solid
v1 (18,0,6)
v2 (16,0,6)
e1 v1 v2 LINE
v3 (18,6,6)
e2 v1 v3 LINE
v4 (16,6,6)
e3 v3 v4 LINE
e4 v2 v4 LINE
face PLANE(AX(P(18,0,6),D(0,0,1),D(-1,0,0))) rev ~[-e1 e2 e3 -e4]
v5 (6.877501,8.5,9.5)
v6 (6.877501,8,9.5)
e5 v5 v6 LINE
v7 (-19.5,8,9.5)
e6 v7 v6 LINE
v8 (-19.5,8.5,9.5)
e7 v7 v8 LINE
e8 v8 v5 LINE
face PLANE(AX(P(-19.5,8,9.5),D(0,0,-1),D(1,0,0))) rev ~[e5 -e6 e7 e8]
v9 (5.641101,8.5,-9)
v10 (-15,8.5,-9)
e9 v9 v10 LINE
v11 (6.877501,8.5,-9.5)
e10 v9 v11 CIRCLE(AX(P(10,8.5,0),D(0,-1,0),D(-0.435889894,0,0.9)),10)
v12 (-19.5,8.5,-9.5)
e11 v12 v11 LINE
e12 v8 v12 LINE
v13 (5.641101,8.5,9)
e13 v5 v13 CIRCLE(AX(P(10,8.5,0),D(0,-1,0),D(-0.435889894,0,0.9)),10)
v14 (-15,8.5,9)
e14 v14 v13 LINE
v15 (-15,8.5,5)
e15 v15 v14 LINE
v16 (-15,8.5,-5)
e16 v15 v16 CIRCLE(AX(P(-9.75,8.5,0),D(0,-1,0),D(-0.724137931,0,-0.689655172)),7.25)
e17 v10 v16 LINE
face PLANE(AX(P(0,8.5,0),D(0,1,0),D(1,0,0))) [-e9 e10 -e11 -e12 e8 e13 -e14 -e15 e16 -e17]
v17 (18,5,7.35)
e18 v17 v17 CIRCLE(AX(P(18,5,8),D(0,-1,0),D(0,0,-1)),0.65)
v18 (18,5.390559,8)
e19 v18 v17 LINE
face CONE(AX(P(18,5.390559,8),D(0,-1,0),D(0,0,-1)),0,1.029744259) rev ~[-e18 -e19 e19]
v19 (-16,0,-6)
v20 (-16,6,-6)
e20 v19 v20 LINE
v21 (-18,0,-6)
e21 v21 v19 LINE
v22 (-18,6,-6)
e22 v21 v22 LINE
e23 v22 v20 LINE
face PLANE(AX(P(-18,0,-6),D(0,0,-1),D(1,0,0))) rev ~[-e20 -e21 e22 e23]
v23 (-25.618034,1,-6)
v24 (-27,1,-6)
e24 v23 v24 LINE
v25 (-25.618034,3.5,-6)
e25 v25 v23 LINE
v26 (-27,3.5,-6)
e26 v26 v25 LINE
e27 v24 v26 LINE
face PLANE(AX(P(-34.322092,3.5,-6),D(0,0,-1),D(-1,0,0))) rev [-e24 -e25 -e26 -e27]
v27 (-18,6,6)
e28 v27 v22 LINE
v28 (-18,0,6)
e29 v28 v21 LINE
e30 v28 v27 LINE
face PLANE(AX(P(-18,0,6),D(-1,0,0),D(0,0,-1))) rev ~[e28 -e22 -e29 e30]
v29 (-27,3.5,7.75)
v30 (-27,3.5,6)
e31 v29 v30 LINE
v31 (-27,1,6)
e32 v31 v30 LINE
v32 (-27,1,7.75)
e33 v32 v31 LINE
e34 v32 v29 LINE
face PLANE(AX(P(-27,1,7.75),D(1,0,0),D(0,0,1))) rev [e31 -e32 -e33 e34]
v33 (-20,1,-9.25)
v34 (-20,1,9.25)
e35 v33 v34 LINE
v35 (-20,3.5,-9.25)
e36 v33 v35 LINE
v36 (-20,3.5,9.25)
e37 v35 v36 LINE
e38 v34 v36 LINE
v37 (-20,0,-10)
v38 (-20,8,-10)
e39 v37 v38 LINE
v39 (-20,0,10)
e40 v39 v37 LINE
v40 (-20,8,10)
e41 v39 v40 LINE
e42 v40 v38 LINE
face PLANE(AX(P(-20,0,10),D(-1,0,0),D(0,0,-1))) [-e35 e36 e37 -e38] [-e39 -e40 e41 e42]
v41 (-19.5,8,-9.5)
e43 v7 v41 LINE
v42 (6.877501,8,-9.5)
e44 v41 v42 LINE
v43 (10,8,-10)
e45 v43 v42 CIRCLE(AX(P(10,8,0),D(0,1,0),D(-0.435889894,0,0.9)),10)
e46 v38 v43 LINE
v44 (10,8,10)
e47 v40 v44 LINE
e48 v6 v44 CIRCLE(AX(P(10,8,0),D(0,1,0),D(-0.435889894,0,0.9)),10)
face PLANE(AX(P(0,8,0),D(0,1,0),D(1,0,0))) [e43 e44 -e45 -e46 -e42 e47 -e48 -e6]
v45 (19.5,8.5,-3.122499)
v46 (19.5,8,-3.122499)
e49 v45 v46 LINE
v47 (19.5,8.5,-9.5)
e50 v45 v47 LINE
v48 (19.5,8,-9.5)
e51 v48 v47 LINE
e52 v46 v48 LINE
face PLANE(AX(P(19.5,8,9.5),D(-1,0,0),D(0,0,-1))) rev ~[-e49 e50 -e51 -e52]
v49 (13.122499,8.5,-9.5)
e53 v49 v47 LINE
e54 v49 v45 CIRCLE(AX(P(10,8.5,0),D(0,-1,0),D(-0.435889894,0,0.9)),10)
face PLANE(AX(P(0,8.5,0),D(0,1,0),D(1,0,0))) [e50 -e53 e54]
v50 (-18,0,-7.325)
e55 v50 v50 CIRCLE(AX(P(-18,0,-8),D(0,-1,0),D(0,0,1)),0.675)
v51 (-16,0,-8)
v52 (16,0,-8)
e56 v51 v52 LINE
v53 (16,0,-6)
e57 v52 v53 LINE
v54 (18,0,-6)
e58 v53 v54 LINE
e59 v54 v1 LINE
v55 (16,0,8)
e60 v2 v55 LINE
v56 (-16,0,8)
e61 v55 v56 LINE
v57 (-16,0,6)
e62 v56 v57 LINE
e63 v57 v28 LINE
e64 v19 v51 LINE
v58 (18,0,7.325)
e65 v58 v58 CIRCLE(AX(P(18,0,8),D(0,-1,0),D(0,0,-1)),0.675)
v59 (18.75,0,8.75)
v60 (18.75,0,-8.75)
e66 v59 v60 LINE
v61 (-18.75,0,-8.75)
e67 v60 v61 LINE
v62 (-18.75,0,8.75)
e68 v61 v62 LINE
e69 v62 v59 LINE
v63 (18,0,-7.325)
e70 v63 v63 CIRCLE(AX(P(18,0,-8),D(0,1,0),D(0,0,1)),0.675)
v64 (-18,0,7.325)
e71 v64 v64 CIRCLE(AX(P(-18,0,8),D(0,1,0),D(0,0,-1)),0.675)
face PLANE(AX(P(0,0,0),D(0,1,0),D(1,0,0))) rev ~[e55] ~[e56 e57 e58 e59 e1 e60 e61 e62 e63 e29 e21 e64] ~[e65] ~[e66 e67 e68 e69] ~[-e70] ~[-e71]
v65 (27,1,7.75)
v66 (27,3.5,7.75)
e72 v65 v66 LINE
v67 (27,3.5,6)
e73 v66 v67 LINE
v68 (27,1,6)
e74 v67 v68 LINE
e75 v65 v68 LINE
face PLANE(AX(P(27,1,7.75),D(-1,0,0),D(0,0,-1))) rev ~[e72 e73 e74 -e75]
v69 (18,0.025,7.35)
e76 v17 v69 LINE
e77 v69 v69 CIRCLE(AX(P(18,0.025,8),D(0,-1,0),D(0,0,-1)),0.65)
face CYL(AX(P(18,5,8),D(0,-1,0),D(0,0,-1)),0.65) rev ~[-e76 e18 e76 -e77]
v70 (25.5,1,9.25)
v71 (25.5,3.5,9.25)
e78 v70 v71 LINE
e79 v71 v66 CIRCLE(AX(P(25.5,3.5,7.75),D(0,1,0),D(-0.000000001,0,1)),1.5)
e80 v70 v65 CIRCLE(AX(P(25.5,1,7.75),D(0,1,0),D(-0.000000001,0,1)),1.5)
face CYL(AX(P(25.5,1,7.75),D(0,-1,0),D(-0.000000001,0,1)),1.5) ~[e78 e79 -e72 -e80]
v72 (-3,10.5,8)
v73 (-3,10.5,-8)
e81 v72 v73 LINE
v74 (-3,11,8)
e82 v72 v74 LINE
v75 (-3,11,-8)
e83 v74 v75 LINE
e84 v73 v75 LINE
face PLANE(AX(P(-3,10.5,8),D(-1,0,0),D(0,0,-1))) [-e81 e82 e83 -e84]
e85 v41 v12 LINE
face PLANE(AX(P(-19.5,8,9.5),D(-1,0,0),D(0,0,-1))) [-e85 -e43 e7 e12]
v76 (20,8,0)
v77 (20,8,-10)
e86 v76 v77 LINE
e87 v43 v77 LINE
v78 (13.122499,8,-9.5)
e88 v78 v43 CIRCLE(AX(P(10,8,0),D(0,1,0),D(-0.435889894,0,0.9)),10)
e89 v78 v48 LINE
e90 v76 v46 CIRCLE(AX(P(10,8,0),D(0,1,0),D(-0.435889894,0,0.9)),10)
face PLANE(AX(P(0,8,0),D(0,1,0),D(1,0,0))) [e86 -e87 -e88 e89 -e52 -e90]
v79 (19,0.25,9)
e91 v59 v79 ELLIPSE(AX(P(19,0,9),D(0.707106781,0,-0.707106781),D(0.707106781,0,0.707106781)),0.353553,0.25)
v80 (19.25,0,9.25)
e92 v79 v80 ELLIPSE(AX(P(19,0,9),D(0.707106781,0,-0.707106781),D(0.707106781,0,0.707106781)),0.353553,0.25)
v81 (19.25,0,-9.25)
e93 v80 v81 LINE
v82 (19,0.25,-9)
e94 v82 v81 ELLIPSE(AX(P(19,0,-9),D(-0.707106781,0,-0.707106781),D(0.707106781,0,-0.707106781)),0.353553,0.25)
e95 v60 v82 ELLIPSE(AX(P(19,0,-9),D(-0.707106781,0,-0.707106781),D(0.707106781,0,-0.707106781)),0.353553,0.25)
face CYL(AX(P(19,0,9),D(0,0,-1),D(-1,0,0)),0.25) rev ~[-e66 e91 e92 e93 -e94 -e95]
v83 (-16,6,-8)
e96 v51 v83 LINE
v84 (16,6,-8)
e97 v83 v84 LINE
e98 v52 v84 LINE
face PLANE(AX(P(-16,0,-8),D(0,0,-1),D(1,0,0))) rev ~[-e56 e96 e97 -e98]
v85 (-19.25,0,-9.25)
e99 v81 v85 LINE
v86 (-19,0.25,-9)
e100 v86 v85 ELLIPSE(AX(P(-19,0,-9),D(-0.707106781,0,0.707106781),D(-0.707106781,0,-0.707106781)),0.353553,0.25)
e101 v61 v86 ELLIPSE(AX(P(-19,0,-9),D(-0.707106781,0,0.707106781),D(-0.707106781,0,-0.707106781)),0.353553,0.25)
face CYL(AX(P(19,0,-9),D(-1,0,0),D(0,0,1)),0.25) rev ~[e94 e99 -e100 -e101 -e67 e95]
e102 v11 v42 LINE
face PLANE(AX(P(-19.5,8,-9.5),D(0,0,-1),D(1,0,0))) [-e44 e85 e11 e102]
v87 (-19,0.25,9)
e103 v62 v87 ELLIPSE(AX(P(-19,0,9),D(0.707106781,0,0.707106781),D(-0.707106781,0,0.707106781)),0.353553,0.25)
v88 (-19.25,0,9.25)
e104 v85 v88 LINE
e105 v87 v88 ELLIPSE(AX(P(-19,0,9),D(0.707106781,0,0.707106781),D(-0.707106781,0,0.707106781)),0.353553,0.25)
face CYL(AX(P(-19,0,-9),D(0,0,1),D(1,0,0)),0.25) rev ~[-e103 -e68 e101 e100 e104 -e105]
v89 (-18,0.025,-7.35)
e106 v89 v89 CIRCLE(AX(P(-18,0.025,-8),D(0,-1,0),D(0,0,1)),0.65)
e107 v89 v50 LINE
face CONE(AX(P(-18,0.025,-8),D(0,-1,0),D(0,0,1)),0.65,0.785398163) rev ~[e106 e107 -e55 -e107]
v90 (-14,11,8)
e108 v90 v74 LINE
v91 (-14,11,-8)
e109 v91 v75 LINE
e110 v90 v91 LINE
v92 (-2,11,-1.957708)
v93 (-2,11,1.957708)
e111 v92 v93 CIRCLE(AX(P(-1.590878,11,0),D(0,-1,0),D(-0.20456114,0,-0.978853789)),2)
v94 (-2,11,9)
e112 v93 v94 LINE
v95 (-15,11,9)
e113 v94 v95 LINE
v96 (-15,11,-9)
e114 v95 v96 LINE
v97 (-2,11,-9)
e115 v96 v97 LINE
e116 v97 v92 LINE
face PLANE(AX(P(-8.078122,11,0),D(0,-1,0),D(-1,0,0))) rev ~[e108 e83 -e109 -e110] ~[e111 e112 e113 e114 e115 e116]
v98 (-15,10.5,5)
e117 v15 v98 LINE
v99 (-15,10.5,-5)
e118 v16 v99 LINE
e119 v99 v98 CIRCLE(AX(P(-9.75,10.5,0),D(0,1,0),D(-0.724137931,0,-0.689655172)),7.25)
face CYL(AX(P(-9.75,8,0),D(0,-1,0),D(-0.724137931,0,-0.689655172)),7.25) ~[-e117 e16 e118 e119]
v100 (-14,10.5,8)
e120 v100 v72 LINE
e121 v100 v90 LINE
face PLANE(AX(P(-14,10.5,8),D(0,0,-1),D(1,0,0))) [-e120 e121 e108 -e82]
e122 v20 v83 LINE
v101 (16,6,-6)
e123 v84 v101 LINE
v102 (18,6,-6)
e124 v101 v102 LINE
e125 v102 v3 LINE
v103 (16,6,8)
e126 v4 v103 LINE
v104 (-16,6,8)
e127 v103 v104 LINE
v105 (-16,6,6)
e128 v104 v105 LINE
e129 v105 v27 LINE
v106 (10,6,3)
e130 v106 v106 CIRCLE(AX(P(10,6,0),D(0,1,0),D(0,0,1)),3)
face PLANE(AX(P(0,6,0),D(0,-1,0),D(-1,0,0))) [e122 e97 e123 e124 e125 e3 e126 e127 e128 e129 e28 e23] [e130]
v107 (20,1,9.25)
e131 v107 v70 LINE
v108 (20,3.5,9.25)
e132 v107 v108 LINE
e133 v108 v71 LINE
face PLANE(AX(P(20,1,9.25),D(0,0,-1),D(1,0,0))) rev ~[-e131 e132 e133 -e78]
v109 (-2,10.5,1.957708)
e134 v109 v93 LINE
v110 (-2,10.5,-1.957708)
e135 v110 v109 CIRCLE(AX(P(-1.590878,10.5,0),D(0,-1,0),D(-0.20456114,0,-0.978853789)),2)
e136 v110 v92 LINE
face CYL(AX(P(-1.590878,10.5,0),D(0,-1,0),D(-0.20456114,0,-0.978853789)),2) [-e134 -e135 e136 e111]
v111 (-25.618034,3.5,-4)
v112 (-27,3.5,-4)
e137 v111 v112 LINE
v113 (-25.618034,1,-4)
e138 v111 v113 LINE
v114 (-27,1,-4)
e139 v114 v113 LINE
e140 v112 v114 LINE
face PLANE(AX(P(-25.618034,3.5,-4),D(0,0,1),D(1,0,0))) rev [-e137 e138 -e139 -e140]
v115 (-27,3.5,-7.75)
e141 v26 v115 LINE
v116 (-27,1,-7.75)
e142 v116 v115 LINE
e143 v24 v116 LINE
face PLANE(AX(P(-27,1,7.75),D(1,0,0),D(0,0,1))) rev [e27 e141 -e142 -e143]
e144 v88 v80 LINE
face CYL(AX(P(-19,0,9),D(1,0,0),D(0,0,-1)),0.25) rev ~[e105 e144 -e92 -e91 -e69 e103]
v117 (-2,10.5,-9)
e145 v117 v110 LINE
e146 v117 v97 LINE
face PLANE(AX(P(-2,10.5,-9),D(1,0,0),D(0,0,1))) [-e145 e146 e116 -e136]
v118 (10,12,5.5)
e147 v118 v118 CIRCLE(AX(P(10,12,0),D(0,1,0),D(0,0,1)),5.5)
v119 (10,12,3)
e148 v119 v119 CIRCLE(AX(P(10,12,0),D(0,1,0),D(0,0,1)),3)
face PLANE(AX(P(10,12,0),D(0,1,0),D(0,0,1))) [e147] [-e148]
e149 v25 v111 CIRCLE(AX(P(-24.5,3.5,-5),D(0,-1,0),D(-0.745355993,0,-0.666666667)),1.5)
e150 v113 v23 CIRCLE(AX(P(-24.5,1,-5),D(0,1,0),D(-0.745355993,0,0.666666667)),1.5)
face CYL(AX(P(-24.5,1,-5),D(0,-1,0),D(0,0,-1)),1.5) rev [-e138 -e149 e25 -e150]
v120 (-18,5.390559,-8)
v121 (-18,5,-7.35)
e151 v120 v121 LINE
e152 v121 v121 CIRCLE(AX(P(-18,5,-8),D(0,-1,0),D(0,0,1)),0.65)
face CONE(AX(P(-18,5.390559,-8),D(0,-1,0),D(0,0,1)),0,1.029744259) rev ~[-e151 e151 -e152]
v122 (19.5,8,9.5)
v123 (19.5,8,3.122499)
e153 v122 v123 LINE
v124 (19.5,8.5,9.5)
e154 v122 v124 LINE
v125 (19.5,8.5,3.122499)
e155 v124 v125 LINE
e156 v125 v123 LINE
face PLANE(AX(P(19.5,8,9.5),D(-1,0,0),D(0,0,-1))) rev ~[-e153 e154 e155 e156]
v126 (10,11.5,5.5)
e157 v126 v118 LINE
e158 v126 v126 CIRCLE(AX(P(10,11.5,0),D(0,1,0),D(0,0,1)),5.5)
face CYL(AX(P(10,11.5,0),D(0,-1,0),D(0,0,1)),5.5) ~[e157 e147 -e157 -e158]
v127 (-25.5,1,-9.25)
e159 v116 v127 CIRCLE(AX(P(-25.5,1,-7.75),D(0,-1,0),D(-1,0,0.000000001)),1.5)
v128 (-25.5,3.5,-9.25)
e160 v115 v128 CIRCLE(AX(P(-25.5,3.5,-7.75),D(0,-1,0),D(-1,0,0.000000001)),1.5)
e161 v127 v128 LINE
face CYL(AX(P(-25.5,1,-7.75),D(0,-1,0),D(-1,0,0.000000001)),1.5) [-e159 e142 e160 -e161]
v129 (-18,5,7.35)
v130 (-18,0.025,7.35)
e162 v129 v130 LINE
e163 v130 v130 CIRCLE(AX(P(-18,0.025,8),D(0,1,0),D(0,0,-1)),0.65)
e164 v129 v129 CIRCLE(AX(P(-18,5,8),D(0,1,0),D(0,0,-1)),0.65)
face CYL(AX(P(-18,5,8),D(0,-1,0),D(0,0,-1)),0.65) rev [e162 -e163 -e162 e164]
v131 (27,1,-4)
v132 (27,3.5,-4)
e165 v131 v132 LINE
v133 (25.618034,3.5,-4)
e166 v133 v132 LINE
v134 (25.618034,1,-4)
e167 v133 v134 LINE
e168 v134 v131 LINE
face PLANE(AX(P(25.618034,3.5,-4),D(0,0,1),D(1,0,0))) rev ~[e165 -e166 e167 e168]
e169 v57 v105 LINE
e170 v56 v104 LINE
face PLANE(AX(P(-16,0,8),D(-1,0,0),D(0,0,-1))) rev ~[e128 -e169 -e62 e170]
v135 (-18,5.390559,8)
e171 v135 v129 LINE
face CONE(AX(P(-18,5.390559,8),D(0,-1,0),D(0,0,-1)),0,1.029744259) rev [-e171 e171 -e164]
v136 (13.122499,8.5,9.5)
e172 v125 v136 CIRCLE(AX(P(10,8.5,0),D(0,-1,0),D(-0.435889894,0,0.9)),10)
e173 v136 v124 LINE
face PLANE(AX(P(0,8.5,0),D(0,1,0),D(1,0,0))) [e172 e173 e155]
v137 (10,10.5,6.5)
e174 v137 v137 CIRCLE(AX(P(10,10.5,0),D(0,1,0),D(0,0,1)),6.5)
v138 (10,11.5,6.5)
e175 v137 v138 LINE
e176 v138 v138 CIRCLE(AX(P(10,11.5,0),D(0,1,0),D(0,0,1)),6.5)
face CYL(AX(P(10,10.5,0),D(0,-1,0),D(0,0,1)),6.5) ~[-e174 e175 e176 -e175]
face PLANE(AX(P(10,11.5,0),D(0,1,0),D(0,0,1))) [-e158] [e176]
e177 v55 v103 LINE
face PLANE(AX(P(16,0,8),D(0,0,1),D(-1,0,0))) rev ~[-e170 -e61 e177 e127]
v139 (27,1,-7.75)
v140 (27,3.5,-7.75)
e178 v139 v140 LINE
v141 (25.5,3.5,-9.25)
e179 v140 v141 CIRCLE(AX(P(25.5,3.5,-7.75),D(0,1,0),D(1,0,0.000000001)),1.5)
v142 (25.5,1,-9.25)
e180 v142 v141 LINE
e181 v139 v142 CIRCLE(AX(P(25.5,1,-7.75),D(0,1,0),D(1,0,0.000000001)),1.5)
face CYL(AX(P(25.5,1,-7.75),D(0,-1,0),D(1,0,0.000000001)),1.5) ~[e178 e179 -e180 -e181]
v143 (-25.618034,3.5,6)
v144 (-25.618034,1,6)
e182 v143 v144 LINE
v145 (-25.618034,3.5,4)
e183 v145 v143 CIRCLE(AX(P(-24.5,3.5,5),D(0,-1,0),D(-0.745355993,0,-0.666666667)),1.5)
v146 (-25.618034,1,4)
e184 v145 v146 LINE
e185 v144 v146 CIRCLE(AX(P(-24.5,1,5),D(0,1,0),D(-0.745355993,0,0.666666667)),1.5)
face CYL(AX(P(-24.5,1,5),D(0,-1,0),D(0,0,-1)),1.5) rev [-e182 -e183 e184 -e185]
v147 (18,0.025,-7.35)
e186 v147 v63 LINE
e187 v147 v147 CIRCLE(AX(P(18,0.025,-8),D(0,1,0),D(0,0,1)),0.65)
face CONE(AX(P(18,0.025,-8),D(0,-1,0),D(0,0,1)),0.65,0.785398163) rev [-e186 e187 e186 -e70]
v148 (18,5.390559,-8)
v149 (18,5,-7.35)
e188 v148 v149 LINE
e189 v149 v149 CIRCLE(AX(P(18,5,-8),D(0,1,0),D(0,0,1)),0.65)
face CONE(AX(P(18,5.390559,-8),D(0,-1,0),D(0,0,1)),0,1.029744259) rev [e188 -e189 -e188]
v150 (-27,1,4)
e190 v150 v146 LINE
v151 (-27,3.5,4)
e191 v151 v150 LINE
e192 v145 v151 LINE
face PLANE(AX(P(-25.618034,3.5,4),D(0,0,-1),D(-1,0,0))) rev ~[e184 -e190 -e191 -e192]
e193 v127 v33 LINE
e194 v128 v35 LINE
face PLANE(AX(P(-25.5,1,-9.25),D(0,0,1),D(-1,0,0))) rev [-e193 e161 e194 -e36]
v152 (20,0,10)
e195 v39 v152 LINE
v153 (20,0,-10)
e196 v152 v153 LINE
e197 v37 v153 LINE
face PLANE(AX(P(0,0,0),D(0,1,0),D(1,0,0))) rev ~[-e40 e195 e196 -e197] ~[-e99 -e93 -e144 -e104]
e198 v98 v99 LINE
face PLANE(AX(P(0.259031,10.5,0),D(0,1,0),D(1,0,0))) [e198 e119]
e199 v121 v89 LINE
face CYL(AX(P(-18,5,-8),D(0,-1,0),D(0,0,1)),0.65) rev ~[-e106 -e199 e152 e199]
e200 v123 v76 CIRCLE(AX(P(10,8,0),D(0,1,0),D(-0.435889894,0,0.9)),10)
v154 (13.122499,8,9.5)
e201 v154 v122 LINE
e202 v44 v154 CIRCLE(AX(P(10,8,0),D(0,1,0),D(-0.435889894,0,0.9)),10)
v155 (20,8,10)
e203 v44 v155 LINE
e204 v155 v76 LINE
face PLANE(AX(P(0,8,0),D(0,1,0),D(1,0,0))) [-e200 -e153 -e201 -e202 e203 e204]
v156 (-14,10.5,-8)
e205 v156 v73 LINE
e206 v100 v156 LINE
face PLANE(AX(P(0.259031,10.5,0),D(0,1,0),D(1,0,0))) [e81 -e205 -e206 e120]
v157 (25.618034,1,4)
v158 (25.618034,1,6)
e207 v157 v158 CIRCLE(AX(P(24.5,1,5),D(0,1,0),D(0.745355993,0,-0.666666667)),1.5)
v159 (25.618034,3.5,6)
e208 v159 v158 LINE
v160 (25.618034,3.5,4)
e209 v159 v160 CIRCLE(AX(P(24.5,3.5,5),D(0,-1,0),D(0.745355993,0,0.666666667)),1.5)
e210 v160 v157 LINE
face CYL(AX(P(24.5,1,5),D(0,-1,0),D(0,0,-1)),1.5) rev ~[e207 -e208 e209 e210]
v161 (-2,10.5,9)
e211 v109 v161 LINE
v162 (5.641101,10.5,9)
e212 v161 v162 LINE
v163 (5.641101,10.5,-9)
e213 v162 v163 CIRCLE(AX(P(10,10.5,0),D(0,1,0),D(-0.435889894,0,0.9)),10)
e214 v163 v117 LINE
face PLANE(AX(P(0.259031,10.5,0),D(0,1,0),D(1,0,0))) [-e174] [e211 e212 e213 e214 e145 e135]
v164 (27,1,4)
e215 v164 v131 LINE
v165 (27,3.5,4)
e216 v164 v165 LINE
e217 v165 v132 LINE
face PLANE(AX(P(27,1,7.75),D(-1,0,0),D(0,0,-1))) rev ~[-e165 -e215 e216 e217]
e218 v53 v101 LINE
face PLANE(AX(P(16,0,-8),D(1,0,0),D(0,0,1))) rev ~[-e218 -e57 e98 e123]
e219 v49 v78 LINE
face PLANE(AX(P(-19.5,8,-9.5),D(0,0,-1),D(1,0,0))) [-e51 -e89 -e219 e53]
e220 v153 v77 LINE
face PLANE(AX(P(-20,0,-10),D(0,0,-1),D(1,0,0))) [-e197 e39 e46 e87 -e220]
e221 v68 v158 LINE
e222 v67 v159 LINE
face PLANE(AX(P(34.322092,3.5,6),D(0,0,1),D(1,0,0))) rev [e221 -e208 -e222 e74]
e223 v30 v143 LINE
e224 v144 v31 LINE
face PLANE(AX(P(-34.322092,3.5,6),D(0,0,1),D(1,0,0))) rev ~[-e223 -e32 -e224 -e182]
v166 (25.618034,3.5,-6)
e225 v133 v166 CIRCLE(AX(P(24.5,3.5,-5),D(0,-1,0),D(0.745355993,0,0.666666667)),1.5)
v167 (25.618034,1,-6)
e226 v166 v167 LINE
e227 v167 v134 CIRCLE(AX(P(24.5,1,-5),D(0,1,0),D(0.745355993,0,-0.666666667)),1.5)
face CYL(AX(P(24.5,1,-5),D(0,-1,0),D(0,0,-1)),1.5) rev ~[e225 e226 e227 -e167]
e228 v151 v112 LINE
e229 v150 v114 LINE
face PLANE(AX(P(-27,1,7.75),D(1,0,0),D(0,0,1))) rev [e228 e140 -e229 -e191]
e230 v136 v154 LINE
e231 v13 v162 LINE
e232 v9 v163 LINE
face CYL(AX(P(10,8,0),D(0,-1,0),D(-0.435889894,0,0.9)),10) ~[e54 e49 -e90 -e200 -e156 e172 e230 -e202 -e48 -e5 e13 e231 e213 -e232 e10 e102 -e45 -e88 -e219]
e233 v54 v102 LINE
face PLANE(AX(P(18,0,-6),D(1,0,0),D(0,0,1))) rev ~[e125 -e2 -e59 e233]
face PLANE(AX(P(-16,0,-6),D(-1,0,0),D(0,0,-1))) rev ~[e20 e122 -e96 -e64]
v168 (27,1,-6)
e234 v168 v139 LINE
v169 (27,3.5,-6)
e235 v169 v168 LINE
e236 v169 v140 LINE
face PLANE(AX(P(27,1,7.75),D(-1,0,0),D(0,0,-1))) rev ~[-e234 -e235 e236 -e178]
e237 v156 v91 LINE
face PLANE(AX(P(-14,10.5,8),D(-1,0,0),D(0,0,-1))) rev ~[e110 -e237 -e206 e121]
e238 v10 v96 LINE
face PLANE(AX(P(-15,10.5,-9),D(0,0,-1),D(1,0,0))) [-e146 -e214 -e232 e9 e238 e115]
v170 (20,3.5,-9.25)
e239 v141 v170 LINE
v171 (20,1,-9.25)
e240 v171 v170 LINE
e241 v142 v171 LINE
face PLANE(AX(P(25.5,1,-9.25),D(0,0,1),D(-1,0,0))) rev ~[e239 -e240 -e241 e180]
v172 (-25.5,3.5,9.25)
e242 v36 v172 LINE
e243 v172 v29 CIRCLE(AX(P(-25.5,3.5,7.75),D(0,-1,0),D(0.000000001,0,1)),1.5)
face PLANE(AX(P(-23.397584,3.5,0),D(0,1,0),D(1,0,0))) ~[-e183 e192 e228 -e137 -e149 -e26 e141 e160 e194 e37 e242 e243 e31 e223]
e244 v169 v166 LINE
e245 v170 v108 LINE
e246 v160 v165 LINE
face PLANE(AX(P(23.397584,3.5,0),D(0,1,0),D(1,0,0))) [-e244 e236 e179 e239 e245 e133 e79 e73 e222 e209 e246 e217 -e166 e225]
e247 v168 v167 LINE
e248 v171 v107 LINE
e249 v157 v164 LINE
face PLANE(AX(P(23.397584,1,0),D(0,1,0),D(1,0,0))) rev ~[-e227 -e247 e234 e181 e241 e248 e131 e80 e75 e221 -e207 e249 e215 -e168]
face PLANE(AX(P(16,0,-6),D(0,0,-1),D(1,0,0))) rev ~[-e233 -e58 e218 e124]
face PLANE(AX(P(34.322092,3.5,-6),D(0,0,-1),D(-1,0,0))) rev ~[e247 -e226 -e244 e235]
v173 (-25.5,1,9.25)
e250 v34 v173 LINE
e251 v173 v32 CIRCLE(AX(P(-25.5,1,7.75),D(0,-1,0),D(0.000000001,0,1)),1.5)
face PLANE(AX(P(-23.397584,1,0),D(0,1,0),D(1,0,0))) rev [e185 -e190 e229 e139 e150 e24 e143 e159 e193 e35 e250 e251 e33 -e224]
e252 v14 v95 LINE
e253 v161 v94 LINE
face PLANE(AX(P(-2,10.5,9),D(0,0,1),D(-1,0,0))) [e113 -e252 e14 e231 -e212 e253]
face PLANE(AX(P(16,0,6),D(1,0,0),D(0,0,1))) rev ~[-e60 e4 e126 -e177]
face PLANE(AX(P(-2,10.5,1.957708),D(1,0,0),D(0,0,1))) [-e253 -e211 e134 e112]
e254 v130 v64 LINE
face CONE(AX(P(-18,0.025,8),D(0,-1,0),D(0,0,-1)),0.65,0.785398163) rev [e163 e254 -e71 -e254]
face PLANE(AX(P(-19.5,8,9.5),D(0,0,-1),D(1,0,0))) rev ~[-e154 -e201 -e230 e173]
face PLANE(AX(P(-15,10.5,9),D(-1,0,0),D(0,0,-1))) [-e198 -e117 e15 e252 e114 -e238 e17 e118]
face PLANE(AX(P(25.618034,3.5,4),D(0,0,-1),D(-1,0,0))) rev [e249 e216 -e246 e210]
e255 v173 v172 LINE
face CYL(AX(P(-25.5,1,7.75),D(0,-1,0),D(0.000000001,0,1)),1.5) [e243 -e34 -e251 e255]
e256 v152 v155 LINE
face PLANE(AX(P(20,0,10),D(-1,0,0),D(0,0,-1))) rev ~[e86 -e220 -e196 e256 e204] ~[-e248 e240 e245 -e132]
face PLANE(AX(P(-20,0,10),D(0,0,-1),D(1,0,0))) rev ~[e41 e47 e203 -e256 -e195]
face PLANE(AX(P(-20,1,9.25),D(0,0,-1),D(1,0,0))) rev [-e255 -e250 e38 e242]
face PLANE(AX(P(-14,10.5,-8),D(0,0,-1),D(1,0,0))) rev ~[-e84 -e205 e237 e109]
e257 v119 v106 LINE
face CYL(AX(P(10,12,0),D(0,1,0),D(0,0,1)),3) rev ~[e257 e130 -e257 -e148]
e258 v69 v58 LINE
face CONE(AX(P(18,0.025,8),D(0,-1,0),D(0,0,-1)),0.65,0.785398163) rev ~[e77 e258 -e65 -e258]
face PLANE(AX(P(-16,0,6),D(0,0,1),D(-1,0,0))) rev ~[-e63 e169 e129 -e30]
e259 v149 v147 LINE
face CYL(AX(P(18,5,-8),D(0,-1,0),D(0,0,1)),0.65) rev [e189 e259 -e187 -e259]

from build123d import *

# Parameters (mm, degrees)
SCHIZZO2_W                   = 40
SCHIZZO2_H                   = 20
ESTRUSIONE_ESTRUSIONE2_DEPTH = 8
TAGLIO_ESTRUSIONE4_DEPTH     = 6
ESTRUSIONE_ESTRUSIONE4_DEPTH = 2.5
SCHIZZO8_W                   = 39
SCHIZZO8_H                   = 19
ESTRUSIONE_ESTRUSIONE3_DEPTH = 0.5
SCHIZZO10_W                  = 11
SCHIZZO10_H                  = 16
ESTRUSIONE_ESTRUSIONE5_DEPTH = 0.5
SCHIZZO11_R                  = 6.5
ESTRUSIONE_ESTRUSIONE6_DEPTH = 1
SCHIZZO12_R                  = 5.5
ESTRUSIONE_ESTRUSIONE7_DEPTH = 0.5
SCHIZZO13_R                  = 3
TAGLIO_ESTRUSIONE5_DEPTH     = 26.377155081
SCHIZZO15_R                  = 1.5
ESTRUSIONE_ESTRUSIONE8_DEPTH = 2.5
SCHIZZO17_W                  = 7.322091749
SCHIZZO17_H                  = 2
TAGLIO_ESTRUSIONE6_DEPTH     = 31.020826105
SPECCHIA4_COPY_1_SKETCH_W    = 7.322091749
SPECCHIA4_COPY_1_SKETCH_H    = 2
SPECCHIA4_COPY_1_DEPTH       = 31.020826105


with BuildPart() as part:
    # Schizzo2 → Estrusione-Estrusione2 (new body)
    with BuildSketch(Plane(origin=(0, 0, 0), x_dir=(1, 0, 0), z_dir=(0, 1, 0))):
        Rectangle(SCHIZZO2_W, SCHIZZO2_H)
    extrude(amount=ESTRUSIONE_ESTRUSIONE2_DEPTH)

    # Schizzo3 → Taglio-Estrusione4 (cut)
    with BuildSketch(Plane(origin=(0, 0, 0), x_dir=(1, 0, 0), z_dir=(0, 1, 0))):
        Polygon((16, -8), (-16, -8), (-16, -6), (-18, -6), (-18, 6), (-16, 6), (-16, 8), (16, 8), (16, 6), (18, 6), (18, -6), (16, -6), align=None)
    extrude(amount=TAGLIO_ESTRUSIONE4_DEPTH, mode=Mode.SUBTRACT)

    # Schizzo4 → Foro per Vite M1-1 (revolve, cut)
    with BuildSketch(Plane(origin=(-18, 0, 8), x_dir=(0, 0, -1), z_dir=(1, 0, 0))):
        Polygon((0, 0), (0, 5.390559402), (0.65, 5), (0.65, 0.025), (0.675, 0), align=None)
    foro_per_vite_m1_1 = revolve(axis=Axis((-18, -6.35, 8), (0, 1, 0)), mode=Mode.SUBTRACT)

    # Specchia1: Foro per Vite M1-1 across plane
    add(foro_per_vite_m1_1.mirror(Plane(origin=(0, 0, 0), x_dir=(0, 0, 1), z_dir=(1, 0, 0))), mode=Mode.SUBTRACT)

    # Specchia2: Foro per Vite M1-1 across plane
    add(foro_per_vite_m1_1.mirror(Plane.XY), mode=Mode.SUBTRACT)

    # Specchia2 copy 1 sketch → Specchia2 copy 1 (revolve, cut)
    with BuildSketch(Plane(origin=(18, 0, -8), x_dir=(0, 0, 1), z_dir=(-1, 0, 0))):
        Polygon((0, 0), (0, 5.390559402), (0.65, 5), (0.65, 0.025), (0.675, 0), align=None)
    revolve(axis=Axis((18, -6.35, -8), (0, 1, 0)), mode=Mode.SUBTRACT)

    # Taglia-Sweep3: sweep along a path in Schizzo5
    with BuildLine(Plane.XZ) as taglia_sweep3_path:
        Line((19, -9), (-19, -9))
        Line((-19, -9), (-19, 9))
        Line((-19, 9), (19, 9))
        Line((19, 9), (19, -9))
    # Schizzo7 → Taglia-Sweep3 (sweep, cut)
    with BuildSketch(Plane.XY):
        with BuildLine():
            Line((-19.25, 0), (-18.75, 0))
            ThreePointArc((-18.75, 0), (-19, 0.25), (-19.25, 0))
        make_face()
    sweep(path=taglia_sweep3_path.line, transition=Transition.RIGHT, mode=Mode.SUBTRACT)

    # Schizzo9 → Estrusione-Estrusione4 (add)
    with BuildSketch(Plane(origin=(0, 8, 0), x_dir=(1, 0, 0), z_dir=(0, 1, 0))):
        with BuildLine():
            Line((5.641101056, 9), (-15, 9))
            Line((-15, 9), (-15, 5))
            ThreePointArc((-15, 5), (-17, 0), (-15, -5))
            Line((-15, -5), (-15, -9))
            Line((-15, -9), (5.641101056, -9))
            ThreePointArc((5.641101056, -9), (20, 0), (5.641101056, 9))
        make_face()
    extrude(amount=ESTRUSIONE_ESTRUSIONE4_DEPTH)

    # Schizzo8 → Estrusione-Estrusione3 (add)
    with BuildSketch(Plane(origin=(0, 8, 0), x_dir=(1, 0, 0), z_dir=(0, 1, 0))):
        Rectangle(SCHIZZO8_W, SCHIZZO8_H)
    extrude(amount=ESTRUSIONE_ESTRUSIONE3_DEPTH)

    # Schizzo10 → Estrusione-Estrusione5 (add)
    with BuildSketch(Plane(origin=(0, 10.5, 0), x_dir=(1, 0, 0), z_dir=(0, 1, 0))):
        with BuildLine():
            Line((-15, 9), (-2, 9))
            Line((-2, 9), (-2, 1.957707578))
            ThreePointArc((-2, 1.957707578), (0.409122281, 0), (-2, -1.957707578))
            Line((-2, -1.957707578), (-2, -9))
            Line((-2, -9), (-15, -9))
            Line((-15, -9), (-15, 9))
        make_face()
        with Locations((-8.5, 0)):
            Rectangle(SCHIZZO10_W, SCHIZZO10_H, mode=Mode.SUBTRACT)
    extrude(amount=ESTRUSIONE_ESTRUSIONE5_DEPTH)

    # Schizzo11 → Estrusione-Estrusione6 (add)
    with BuildSketch(Plane(origin=(0, 10.5, 0), x_dir=(1, 0, 0), z_dir=(0, 1, 0))):
        with Locations(Location((10, 0, 0), (0, 0, 270))):
            Circle(SCHIZZO11_R)
    extrude(amount=ESTRUSIONE_ESTRUSIONE6_DEPTH)

    # Schizzo12 → Estrusione-Estrusione7 (add)
    with BuildSketch(Plane(origin=(0, 11.5, 0), x_dir=(1, 0, 0), z_dir=(0, 1, 0))):
        with Locations(Location((10, 0, 0), (0, 0, 270))):
            Circle(SCHIZZO12_R)
    extrude(amount=ESTRUSIONE_ESTRUSIONE7_DEPTH)

    # Schizzo13 → Taglio-Estrusione5 (cut, through all)
    with BuildSketch(Plane(origin=(0, 12, 0), x_dir=(1, 0, 0), z_dir=(0, 1, 0))):
        with Locations(Location((10, 0, 0), (0, 0, 270))):
            Circle(SCHIZZO13_R)
    extrude(amount=-TAGLIO_ESTRUSIONE5_DEPTH, mode=Mode.SUBTRACT)

    # Schizzo15 → Estrusione-Estrusione8 (add)
    with BuildSketch(Plane(origin=(0, 1, 0), x_dir=(-1, 0, 0), z_dir=(0, -1, 0))):
        with BuildLine():
            Line((-25.5, 9.25), (-20, 9.25))
            Line((-20, 9.25), (-20, -9.25))
            Line((-20, -9.25), (-25.5, -9.25))
            ThreePointArc((-25.5, -9.25), (-26.560660172, -8.810660172), (-27, -7.75))
            Line((-27, -7.75), (-27, 7.75))
            ThreePointArc((-27, 7.75), (-26.560660172, 8.810660172), (-25.5, 9.25))
        make_face()
        with Locations(Location((-24.5, 5, 0), (0, 0, 90))):
            Circle(SCHIZZO15_R, mode=Mode.SUBTRACT)
        with Locations(Location((-24.5, -5, 0), (0, 0, 90))):
            Circle(SCHIZZO15_R, mode=Mode.SUBTRACT)
    estrusione_estrusione8 = extrude(amount=-ESTRUSIONE_ESTRUSIONE8_DEPTH)

    # Schizzo17 → Taglio-Estrusione6 (cut, through all)
    with BuildSketch(Plane(origin=(0, 3.5, 0), x_dir=(1, 0, 0), z_dir=(0, 1, 0))):
        with Locations((30.661045875, 5)):
            Rectangle(SCHIZZO17_W, SCHIZZO17_H)
        with BuildLine():
            Line((25.618033989, 4), (27, 4))
            Line((27, 4), (27, 6))
            Line((27, 6), (25.618033989, 6))
            ThreePointArc((25.618033989, 6), (25.645827846, 5.968028175), (25.672707741, 5.93528421))
            ThreePointArc((25.672707741, 5.93528421), (25.915814538, 5.495448478), (26, 5))
            ThreePointArc((26, 5), (25.915814538, 4.504551522), (25.672707741, 4.06471579))
            ThreePointArc((25.672707741, 4.06471579), (25.645827846, 4.031971825), (25.618033989, 4))
        make_face()
    taglio_estrusione6 = extrude(amount=-TAGLIO_ESTRUSIONE6_DEPTH, mode=Mode.SUBTRACT)

    # Specchia3: Taglio-Estrusione6 across plane
    add(taglio_estrusione6.mirror(Plane.XY), mode=Mode.SUBTRACT)

    # Specchia4: Estrusione-Estrusione8, Taglio-Estrusione6 across plane
    add(estrusione_estrusione8.mirror(Plane(origin=(0, 0, 0), x_dir=(0, 0, 1), z_dir=(1, 0, 0))))
    add(taglio_estrusione6.mirror(Plane(origin=(0, 0, 0), x_dir=(0, 0, 1), z_dir=(1, 0, 0))), mode=Mode.SUBTRACT)

    # Specchia4 copy 1 sketch → Specchia4 copy 1 (cut, through all)
    with BuildSketch(Plane(origin=(0, 3.5, 0), x_dir=(-1, 0, 0), z_dir=(0, 1, 0))):
        with Locations((30.661045875, 5)):
            Rectangle(SPECCHIA4_COPY_1_SKETCH_W, SPECCHIA4_COPY_1_SKETCH_H)
        with BuildLine():
            Line((25.618033989, 4), (27, 4))
            Line((27, 4), (27, 6))
            Line((27, 6), (25.618033989, 6))
            ThreePointArc((25.618033989, 6), (25.645827846, 5.968028175), (25.672707741, 5.93528421))
            ThreePointArc((25.672707741, 5.93528421), (25.915814538, 5.495448478), (26, 5))
            ThreePointArc((26, 5), (25.915814538, 4.504551522), (25.672707741, 4.06471579))
            ThreePointArc((25.672707741, 4.06471579), (25.645827846, 4.031971825), (25.618033989, 4))
        make_face()
    extrude(amount=-SPECCHIA4_COPY_1_DEPTH, mode=Mode.SUBTRACT)


solid = part.part
